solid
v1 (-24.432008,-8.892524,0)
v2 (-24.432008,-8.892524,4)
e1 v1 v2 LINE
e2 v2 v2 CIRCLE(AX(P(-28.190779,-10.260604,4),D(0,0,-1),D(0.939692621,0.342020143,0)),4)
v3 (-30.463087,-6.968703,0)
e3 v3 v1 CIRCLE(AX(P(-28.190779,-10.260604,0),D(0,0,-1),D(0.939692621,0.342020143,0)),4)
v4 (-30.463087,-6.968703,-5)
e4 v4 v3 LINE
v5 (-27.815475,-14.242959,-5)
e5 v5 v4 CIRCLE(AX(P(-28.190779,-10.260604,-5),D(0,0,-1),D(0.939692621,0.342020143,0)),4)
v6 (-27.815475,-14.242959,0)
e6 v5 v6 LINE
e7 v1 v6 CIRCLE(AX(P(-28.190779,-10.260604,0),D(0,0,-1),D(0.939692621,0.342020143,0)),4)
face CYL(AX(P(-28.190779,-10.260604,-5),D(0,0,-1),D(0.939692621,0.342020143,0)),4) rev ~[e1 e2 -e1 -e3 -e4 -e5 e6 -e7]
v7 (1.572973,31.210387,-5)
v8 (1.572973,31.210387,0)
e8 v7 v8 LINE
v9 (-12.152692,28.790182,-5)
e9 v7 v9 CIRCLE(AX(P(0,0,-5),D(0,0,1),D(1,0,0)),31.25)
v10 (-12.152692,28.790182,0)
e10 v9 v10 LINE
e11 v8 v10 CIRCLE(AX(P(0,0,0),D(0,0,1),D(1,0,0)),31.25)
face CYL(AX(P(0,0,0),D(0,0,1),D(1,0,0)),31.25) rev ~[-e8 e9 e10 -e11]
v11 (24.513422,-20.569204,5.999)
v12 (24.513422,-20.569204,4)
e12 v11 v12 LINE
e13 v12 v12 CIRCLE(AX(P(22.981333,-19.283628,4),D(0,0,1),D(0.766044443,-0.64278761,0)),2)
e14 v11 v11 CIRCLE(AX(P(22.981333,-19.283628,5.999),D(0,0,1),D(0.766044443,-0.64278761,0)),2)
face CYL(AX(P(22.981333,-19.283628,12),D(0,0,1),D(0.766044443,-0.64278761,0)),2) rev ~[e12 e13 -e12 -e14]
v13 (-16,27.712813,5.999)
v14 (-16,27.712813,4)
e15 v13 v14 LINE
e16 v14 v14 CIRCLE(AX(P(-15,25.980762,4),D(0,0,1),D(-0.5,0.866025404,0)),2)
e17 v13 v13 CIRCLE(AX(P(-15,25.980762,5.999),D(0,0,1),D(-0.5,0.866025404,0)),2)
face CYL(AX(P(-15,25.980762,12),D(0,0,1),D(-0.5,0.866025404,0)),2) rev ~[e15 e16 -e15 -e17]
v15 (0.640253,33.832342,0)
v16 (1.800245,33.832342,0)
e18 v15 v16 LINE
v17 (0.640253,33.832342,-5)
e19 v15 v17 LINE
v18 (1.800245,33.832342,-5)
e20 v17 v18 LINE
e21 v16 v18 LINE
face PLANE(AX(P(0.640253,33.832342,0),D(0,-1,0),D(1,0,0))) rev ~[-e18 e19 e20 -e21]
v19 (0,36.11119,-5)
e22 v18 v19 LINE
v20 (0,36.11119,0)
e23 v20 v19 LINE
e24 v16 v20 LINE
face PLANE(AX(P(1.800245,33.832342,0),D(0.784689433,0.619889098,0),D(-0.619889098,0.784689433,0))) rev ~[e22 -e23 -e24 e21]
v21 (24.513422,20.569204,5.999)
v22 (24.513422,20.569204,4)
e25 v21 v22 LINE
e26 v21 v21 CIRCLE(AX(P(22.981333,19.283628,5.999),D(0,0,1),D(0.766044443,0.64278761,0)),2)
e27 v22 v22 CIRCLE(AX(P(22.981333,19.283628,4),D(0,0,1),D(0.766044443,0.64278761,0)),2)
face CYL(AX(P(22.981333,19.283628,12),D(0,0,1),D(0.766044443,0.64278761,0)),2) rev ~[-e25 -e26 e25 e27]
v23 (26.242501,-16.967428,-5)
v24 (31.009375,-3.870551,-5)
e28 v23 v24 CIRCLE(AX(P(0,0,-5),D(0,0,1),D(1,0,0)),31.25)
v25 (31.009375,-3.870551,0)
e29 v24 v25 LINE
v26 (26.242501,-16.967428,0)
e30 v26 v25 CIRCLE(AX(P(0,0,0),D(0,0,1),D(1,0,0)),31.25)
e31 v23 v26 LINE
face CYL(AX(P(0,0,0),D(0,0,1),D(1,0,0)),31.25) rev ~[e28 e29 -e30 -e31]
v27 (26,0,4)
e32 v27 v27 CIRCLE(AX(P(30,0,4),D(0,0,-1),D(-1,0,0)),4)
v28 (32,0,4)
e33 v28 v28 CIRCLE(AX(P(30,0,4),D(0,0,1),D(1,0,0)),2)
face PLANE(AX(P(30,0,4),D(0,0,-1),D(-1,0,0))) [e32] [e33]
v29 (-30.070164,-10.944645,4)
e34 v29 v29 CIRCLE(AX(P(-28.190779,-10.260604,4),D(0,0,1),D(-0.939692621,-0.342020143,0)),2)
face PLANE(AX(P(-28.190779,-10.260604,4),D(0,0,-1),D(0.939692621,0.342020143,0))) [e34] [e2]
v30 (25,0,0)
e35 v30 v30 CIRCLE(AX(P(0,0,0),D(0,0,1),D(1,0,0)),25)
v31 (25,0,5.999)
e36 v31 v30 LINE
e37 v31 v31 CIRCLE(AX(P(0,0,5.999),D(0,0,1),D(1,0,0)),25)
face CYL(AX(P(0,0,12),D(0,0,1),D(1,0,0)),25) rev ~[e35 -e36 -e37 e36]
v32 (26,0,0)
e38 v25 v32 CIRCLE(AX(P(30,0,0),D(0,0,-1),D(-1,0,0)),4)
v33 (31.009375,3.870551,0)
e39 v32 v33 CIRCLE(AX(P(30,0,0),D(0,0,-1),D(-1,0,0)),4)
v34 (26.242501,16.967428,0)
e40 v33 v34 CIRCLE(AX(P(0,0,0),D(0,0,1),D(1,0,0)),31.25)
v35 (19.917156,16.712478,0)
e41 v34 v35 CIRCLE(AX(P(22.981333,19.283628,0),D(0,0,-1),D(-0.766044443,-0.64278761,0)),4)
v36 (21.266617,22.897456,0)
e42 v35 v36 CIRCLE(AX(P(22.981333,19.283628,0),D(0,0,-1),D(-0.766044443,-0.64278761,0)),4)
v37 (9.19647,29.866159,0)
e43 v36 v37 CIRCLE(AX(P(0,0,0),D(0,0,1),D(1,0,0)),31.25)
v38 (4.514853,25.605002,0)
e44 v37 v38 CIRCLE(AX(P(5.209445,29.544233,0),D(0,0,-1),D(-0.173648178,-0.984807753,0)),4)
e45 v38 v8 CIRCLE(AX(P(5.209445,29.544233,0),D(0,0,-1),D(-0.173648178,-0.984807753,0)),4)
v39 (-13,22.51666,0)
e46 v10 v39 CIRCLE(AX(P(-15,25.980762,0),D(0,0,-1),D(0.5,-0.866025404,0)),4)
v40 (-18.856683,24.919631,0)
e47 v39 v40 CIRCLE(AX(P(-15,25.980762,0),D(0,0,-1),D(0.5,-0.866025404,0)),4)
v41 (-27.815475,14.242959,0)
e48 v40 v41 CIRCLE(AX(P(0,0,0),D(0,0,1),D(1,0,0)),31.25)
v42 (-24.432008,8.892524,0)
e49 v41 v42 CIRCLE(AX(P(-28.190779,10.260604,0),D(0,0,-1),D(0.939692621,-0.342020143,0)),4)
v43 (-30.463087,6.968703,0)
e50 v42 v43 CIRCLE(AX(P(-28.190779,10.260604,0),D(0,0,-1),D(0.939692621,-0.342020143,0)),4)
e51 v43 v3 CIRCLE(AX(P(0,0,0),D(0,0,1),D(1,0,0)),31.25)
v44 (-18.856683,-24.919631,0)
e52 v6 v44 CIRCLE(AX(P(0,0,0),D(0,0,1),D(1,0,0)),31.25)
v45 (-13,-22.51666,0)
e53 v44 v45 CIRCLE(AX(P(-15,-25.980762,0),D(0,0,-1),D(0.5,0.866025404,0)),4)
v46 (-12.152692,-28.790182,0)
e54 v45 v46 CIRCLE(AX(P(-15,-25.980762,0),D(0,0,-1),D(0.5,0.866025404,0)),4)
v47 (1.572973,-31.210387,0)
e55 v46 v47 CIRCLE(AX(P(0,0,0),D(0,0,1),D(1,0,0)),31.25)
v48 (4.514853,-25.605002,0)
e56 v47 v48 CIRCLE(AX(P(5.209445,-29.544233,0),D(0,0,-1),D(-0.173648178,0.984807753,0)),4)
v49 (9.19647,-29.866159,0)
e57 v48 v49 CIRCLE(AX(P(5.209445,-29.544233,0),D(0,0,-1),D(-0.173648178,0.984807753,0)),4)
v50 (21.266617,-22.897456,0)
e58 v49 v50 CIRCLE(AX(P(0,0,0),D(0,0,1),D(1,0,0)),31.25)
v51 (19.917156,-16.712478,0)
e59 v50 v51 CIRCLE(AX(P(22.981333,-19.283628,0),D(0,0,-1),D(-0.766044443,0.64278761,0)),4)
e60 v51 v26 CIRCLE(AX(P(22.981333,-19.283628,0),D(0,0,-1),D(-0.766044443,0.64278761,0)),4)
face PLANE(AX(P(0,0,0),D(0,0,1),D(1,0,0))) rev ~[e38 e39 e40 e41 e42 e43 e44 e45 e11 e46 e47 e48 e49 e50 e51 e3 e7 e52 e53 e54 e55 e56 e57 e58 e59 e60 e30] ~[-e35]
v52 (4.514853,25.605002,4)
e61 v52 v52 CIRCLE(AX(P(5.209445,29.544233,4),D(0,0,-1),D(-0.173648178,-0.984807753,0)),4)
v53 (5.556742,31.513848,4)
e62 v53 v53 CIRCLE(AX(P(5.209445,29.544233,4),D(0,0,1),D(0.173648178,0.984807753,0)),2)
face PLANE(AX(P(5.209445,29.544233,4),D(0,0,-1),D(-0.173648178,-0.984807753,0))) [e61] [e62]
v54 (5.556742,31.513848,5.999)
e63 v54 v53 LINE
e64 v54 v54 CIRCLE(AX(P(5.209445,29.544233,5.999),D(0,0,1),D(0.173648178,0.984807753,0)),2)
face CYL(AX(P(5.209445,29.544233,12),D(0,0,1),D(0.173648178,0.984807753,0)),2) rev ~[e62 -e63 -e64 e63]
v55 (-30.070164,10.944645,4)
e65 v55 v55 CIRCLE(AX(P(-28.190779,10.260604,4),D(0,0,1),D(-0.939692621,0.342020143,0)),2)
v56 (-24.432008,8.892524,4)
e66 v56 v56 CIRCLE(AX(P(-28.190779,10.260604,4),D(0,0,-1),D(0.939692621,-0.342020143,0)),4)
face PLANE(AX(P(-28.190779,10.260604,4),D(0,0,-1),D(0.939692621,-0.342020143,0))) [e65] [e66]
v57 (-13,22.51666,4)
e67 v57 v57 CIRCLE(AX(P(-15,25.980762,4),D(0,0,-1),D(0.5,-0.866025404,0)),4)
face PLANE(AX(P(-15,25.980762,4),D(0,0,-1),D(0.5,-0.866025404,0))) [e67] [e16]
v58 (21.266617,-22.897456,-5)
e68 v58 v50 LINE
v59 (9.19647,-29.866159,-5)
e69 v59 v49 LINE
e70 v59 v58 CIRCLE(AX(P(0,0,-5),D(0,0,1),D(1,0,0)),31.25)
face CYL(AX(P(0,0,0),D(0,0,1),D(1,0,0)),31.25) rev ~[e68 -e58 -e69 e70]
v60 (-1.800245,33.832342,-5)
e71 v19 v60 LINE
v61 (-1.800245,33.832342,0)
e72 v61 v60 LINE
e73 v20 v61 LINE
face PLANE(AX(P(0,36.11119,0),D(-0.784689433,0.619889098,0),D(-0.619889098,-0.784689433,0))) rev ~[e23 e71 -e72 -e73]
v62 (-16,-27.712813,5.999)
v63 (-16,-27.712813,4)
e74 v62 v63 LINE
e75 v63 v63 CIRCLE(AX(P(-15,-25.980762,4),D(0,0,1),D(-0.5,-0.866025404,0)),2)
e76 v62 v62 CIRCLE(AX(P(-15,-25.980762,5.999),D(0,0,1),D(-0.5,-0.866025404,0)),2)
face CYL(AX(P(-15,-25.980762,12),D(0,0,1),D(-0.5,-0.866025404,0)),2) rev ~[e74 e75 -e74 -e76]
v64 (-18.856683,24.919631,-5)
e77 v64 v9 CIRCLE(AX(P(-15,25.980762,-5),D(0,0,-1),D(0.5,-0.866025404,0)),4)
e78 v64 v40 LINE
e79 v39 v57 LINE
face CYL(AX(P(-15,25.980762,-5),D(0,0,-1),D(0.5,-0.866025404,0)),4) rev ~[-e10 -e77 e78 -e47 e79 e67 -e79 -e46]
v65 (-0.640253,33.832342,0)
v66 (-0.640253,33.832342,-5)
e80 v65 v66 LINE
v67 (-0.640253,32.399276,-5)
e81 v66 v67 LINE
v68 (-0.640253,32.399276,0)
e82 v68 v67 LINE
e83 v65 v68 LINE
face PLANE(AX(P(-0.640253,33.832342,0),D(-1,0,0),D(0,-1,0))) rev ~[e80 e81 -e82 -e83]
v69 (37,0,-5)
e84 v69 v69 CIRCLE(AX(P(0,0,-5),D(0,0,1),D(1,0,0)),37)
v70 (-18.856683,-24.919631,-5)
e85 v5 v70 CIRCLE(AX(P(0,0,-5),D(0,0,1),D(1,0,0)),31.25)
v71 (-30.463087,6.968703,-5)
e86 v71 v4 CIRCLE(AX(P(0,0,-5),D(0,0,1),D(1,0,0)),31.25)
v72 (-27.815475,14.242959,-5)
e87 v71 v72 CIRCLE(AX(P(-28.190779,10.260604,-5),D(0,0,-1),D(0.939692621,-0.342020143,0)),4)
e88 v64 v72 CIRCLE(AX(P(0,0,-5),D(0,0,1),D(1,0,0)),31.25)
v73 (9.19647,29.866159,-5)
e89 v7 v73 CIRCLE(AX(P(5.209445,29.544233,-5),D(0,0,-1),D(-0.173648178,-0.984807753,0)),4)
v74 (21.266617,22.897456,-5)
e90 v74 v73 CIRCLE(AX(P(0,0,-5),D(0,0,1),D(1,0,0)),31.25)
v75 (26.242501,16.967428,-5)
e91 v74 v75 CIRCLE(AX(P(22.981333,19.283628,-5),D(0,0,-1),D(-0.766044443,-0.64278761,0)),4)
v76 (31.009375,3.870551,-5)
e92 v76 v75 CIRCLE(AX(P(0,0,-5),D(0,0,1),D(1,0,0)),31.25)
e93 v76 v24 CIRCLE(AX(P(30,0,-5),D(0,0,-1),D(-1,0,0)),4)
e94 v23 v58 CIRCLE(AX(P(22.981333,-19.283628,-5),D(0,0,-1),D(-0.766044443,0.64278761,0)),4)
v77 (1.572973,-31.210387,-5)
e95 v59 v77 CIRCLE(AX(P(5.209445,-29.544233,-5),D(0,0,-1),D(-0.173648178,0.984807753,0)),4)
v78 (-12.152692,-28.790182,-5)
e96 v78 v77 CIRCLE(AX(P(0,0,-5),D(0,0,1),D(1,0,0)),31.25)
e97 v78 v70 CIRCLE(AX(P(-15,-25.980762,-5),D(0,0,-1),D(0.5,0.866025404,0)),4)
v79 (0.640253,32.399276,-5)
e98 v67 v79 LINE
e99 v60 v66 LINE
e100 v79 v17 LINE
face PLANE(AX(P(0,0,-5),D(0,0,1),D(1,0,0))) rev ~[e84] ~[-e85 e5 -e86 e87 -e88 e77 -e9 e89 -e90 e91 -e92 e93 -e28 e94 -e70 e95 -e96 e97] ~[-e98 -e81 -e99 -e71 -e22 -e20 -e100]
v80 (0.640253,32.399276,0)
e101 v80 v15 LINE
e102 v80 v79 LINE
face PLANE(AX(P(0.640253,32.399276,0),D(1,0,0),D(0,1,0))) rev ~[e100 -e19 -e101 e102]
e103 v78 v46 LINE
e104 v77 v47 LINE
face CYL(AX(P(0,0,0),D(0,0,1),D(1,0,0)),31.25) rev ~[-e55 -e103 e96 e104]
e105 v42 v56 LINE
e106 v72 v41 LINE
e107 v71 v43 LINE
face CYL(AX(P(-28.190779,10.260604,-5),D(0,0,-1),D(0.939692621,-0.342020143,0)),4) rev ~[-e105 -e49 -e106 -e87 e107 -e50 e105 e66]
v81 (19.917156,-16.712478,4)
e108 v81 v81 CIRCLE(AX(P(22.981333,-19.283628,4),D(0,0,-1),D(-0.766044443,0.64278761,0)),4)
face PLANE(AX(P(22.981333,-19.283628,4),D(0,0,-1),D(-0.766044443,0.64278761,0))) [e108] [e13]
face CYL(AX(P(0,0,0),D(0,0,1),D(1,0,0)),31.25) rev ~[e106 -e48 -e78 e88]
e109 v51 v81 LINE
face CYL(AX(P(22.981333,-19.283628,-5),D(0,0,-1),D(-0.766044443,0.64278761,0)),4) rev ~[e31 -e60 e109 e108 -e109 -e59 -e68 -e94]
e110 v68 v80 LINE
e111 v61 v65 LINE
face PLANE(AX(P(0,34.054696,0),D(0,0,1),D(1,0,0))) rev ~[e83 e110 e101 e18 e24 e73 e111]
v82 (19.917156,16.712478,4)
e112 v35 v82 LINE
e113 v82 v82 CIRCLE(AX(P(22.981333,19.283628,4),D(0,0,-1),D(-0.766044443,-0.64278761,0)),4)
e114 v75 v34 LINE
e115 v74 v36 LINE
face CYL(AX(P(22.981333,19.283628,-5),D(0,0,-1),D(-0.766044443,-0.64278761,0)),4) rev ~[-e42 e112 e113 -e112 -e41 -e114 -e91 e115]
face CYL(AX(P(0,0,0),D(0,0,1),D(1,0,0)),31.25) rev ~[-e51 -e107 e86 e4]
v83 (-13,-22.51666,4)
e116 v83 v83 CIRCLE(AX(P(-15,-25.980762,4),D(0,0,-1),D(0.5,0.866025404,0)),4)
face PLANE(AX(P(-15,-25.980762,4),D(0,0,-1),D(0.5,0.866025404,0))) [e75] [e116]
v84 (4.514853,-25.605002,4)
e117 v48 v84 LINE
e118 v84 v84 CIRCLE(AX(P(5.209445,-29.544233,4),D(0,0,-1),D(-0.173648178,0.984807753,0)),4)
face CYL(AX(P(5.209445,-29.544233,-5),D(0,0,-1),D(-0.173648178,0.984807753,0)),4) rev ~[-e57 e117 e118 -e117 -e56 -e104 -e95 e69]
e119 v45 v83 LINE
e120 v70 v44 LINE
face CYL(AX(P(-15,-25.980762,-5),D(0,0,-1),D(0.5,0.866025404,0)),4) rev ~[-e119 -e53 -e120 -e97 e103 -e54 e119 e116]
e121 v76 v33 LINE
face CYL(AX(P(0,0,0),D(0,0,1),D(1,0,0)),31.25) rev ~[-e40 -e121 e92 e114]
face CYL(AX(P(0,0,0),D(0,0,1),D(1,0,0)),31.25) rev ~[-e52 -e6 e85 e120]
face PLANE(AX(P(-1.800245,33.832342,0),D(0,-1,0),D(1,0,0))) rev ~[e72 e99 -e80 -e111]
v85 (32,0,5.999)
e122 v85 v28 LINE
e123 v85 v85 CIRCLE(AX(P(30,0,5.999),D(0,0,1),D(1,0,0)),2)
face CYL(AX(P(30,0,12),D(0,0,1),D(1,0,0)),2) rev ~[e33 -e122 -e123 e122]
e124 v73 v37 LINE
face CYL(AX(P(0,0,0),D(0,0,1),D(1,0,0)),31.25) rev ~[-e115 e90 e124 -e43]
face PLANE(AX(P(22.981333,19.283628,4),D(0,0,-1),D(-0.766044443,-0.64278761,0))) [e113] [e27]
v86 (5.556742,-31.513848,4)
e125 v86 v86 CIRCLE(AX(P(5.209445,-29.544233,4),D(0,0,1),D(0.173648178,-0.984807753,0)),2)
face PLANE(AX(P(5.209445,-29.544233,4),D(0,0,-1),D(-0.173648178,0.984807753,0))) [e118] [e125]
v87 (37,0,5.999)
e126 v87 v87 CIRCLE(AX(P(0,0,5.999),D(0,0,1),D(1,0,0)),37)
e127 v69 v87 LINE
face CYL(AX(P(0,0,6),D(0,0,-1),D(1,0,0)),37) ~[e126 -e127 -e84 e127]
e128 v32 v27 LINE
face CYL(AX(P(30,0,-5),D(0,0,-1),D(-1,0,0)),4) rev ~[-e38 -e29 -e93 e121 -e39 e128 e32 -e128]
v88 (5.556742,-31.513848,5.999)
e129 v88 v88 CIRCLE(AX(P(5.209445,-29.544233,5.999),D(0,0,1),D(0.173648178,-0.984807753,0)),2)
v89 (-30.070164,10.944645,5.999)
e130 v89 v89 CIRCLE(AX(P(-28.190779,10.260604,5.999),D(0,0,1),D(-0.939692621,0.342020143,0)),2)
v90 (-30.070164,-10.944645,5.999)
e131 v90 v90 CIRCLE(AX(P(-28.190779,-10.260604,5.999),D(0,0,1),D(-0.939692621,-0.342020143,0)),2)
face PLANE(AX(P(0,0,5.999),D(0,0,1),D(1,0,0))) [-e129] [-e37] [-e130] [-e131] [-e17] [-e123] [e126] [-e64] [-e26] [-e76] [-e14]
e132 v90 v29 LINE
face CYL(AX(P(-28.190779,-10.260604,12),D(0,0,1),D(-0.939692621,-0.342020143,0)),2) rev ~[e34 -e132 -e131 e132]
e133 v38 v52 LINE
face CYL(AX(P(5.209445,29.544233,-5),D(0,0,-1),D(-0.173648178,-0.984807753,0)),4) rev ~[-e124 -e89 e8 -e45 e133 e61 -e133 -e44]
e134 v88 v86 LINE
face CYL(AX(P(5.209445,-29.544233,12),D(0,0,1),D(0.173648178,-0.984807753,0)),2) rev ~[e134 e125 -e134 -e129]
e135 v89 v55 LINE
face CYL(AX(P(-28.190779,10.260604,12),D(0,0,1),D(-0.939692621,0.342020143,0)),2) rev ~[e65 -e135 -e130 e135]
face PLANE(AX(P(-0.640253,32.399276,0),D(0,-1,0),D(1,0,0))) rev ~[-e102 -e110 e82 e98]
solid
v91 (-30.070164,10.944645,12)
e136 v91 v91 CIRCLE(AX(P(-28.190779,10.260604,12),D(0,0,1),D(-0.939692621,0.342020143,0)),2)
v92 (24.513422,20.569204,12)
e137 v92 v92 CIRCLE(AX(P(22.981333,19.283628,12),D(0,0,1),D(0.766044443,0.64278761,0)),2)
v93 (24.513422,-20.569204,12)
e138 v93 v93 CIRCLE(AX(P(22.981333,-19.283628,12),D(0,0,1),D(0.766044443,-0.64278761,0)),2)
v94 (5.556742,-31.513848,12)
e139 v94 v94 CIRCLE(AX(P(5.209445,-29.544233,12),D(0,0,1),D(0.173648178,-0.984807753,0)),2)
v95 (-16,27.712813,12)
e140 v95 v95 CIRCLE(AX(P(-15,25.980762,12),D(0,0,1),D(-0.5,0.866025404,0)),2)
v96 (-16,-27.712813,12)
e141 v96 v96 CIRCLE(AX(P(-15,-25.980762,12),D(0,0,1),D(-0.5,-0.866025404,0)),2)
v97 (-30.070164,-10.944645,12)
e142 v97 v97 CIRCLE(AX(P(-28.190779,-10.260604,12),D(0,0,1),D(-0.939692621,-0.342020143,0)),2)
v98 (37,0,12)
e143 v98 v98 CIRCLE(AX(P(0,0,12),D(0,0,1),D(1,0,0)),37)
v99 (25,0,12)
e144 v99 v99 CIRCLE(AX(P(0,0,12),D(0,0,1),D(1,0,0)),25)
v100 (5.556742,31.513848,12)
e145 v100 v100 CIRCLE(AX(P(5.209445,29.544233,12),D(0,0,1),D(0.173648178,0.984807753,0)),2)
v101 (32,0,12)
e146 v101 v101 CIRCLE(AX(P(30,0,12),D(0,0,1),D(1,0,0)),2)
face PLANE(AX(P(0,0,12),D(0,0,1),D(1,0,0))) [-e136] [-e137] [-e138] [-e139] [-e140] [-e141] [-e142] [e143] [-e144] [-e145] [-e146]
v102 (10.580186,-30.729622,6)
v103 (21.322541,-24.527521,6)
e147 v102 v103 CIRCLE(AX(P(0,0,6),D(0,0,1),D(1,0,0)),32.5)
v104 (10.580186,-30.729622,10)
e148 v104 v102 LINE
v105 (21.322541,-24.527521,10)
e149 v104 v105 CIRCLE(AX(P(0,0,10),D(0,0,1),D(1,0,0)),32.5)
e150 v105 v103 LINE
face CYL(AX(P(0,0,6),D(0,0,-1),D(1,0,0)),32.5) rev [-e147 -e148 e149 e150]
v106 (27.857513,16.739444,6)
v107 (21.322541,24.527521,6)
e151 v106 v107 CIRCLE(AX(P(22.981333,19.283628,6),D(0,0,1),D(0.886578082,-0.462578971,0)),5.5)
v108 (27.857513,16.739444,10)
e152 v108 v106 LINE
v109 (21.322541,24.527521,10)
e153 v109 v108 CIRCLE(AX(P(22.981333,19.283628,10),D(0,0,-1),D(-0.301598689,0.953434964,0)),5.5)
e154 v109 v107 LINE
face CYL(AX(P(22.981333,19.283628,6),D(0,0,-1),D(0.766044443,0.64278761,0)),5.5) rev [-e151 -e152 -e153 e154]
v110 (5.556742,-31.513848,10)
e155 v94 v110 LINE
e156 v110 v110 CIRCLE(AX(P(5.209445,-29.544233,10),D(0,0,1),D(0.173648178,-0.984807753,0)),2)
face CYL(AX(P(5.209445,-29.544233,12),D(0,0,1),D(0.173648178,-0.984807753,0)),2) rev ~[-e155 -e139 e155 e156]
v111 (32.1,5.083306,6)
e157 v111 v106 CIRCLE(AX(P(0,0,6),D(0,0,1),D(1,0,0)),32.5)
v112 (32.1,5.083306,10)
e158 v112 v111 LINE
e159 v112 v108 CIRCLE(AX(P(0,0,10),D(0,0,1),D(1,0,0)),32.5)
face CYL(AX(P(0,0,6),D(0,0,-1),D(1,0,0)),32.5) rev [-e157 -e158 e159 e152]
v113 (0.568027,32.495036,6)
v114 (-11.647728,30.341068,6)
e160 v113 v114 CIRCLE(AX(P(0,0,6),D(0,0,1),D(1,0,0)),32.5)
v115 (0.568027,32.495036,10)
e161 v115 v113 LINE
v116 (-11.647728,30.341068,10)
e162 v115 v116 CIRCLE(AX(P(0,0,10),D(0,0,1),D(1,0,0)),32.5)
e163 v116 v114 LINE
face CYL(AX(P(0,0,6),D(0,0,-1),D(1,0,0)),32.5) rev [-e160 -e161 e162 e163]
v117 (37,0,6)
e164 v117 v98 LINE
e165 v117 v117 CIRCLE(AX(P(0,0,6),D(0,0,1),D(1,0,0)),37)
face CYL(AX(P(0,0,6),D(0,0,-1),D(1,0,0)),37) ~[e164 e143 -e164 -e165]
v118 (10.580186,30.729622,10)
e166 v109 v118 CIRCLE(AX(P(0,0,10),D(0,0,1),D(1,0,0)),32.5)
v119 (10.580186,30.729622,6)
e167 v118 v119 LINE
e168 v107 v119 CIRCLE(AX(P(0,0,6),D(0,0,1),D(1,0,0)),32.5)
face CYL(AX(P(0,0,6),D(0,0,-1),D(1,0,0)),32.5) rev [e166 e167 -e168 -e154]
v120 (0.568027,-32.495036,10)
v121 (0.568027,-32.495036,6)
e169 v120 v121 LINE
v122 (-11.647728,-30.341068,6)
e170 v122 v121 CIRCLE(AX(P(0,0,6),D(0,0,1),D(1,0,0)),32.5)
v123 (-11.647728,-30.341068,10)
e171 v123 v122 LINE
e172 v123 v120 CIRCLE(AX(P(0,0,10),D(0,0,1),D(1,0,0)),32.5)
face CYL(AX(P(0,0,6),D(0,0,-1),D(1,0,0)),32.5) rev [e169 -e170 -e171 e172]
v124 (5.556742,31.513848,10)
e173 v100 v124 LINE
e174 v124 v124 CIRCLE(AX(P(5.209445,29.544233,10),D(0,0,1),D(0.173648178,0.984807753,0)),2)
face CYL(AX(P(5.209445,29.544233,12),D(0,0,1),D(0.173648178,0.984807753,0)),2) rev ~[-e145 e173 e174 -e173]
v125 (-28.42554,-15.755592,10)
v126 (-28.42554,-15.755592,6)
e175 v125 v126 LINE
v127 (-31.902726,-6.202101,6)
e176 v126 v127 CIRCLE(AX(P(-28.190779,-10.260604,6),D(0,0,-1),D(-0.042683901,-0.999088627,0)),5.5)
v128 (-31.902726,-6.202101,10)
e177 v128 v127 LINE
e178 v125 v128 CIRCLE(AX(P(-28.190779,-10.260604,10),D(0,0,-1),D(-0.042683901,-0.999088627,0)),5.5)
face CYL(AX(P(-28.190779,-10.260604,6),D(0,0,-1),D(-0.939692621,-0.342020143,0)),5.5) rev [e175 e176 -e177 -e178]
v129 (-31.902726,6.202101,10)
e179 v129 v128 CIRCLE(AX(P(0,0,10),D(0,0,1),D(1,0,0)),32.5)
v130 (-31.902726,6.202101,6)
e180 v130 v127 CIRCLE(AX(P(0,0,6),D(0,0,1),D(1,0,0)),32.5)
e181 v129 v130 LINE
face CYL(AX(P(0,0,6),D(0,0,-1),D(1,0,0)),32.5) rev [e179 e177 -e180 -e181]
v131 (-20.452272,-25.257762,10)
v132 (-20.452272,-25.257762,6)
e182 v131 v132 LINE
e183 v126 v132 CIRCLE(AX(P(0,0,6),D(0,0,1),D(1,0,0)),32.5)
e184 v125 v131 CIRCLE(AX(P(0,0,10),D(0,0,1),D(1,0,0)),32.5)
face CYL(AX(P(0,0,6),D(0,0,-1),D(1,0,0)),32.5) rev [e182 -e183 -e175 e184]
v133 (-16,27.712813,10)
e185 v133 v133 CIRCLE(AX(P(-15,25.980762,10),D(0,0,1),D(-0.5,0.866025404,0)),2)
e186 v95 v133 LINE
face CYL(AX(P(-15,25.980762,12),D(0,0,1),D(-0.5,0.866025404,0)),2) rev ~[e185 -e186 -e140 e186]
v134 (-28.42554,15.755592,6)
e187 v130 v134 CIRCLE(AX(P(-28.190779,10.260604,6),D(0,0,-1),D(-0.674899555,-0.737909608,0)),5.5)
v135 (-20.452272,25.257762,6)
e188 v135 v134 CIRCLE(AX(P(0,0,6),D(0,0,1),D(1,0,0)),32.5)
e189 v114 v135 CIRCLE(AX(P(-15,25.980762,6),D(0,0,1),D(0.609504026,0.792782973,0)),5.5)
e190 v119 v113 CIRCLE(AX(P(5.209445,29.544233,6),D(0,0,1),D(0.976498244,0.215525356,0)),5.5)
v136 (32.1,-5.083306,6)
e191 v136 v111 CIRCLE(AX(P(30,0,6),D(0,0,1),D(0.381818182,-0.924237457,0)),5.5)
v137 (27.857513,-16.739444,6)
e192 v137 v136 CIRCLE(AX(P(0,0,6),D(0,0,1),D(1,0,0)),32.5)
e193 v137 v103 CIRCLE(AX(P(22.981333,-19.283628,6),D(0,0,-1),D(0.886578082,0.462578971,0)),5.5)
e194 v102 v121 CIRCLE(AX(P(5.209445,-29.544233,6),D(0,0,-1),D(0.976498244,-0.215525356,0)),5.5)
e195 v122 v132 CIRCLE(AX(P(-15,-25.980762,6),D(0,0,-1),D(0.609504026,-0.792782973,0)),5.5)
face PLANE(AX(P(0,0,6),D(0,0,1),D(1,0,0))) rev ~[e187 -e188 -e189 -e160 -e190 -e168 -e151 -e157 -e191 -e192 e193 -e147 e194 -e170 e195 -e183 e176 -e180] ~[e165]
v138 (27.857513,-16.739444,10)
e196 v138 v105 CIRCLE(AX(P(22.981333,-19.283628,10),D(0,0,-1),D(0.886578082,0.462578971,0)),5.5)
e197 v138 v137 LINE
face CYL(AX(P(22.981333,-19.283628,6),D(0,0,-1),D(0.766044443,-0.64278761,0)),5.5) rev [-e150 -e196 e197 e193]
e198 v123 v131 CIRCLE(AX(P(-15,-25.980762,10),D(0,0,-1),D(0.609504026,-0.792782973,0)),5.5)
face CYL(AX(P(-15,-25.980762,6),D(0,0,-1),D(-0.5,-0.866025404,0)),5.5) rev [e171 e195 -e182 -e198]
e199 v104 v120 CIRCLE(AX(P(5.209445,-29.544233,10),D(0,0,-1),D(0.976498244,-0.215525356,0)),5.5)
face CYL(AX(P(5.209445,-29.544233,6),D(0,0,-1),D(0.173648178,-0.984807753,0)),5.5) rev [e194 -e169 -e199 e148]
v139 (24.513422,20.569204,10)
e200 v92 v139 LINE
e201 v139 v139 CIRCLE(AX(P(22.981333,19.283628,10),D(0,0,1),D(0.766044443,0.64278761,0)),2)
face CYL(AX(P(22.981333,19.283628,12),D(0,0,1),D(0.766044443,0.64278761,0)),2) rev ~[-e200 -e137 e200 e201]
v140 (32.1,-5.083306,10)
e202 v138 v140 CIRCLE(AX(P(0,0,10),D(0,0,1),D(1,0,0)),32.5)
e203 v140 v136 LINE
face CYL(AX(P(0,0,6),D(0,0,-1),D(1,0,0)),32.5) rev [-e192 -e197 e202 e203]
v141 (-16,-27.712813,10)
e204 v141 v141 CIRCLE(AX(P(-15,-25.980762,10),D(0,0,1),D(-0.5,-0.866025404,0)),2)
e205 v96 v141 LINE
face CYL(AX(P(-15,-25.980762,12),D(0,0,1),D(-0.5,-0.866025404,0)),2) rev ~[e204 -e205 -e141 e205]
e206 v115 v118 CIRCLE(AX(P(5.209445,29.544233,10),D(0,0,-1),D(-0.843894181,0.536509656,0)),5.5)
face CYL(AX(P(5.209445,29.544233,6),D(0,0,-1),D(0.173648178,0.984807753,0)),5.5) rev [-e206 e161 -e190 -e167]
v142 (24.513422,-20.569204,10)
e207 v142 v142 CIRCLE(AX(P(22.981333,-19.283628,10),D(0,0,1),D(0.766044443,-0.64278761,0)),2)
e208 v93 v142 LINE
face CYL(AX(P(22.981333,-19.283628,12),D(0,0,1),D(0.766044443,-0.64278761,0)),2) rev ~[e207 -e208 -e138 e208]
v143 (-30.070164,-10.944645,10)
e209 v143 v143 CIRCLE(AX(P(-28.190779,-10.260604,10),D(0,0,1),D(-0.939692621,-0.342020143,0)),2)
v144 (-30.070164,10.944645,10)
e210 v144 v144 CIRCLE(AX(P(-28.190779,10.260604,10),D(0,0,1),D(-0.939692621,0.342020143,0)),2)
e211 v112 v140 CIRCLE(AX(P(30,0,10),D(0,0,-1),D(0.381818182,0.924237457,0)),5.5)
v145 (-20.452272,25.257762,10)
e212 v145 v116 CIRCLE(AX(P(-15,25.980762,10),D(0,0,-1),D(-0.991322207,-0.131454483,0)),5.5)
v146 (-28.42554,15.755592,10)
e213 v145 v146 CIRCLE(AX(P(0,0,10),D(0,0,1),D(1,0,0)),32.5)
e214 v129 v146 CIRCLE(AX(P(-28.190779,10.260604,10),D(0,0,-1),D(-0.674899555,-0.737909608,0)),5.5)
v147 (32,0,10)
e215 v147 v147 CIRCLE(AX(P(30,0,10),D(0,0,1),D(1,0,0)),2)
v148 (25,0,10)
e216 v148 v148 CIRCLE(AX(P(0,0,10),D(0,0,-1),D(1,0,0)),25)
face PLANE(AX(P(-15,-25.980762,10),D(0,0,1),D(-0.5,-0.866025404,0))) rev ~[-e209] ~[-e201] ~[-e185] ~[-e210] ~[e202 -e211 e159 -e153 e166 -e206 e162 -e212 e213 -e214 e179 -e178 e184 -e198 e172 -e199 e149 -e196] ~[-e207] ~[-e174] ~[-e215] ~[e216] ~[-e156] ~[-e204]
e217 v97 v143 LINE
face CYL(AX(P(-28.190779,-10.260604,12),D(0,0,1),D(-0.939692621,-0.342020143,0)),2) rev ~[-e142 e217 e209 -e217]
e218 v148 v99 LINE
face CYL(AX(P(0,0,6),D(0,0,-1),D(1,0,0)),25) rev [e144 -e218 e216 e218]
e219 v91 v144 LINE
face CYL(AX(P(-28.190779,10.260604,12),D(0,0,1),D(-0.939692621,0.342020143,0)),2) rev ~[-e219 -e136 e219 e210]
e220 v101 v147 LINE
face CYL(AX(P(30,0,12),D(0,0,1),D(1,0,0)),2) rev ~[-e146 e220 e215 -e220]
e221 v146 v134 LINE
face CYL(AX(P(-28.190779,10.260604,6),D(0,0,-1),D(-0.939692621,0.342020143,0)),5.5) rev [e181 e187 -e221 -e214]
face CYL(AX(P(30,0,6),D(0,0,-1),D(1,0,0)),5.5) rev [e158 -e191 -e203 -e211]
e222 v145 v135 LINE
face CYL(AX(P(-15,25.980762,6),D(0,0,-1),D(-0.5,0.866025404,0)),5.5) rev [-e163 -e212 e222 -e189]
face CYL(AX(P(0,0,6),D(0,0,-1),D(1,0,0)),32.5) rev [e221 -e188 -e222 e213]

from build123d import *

# Parameters (mm, degrees)
SKETCH2_R           = 37
BOSS_EXTRUDE1_DEPTH = 6
SKETCH5_R           = 37
SKETCH5_R_2         = 31.25
BOSS_EXTRUDE2_DEPTH = 5
SKETCH6_R           = 37
SKETCH6_R_2         = 25
BOSS_EXTRUDE3_DEPTH = 6
CUT_EXTRUDE2_DEPTH  = 6
SKETCH9_R           = 2
CUT_EXTRUDE4_DEPTH  = 18
SKETCH12_R          = 4
CUT_EXTRUDE5_DEPTH  = 9
SKETCH13_R          = 25
CUT_EXTRUDE6_DEPTH  = 18
CUT_EXTRUDE7_START  = 2
SKETCH15_R          = 5.5
CUT_EXTRUDE7_DEPTH  = 4
CIRPATTERN7_COUNT   = 9
SKETCH16_R          = 32.5
CUT_EXTRUDE8_DEPTH  = 4
SKETCH17_R          = 37
CUT_EXTRUDE9_DEPTH  = 0.001


with BuildPart() as part:
    # Sketch2 → Boss-Extrude1 (new body)
    with BuildSketch(Plane.XY):
        Circle(SKETCH2_R)
    extrude(amount=BOSS_EXTRUDE1_DEPTH)

    # Sketch5 → Boss-Extrude2 (add)
    with BuildSketch(Plane.XY):
        Circle(SKETCH5_R)
        Circle(SKETCH5_R_2, mode=Mode.SUBTRACT)
    extrude(amount=-BOSS_EXTRUDE2_DEPTH)

    # Sketch6 → Boss-Extrude3 (add)
    with BuildSketch(Plane.XY.offset(6)):
        Circle(SKETCH6_R)
        Circle(SKETCH6_R_2, mode=Mode.SUBTRACT)
    extrude(amount=BOSS_EXTRUDE3_DEPTH)

    # Sketch7 → Cut-Extrude2 (cut, through all)
    with BuildSketch(Plane.XY):
        Polygon((0, 32.399276449), (0.640252712, 32.399276449), (0.640252712, 33.832341534), (1.800245239, 33.832341534), (0, 36.111190156), (-1.800245239, 33.832341534), (-0.640252712, 33.832341534), (-0.640252712, 32.399276449), align=None)
    extrude(amount=-CUT_EXTRUDE2_DEPTH, mode=Mode.SUBTRACT)

    # Sketch9 → Cut-Extrude4 (cut, through all)
    with BuildSketch(Plane.XY.offset(12)):
        with Locations((30, 0)):
            Circle(SKETCH9_R)
    cut_extrude4 = extrude(amount=-CUT_EXTRUDE4_DEPTH, mode=Mode.SUBTRACT)

    # Sketch12 → Cut-Extrude5 (cut)
    with BuildSketch(Plane(origin=(0, 0, -5), x_dir=(-1, 0, 0), z_dir=(0, 0, -1))):
        with Locations((-30, 0)):
            Circle(SKETCH12_R)
    cut_extrude5 = extrude(amount=-CUT_EXTRUDE5_DEPTH, mode=Mode.SUBTRACT)

    # Sketch13 → Cut-Extrude6 (cut, through all)
    with BuildSketch(Plane.XY.offset(12)):
        Circle(SKETCH13_R)
    extrude(amount=-CUT_EXTRUDE6_DEPTH, mode=Mode.SUBTRACT)

    # Sketch15 → Cut-Extrude7 (cut)
    with BuildSketch(Plane.XY.offset(4).offset(CUT_EXTRUDE7_START)):
        with Locations((30, 0)):
            Circle(SKETCH15_R)
    cut_extrude7 = extrude(amount=CUT_EXTRUDE7_DEPTH, mode=Mode.SUBTRACT)

    # CirPattern7: Cut-Extrude4, Cut-Extrude5, Cut-Extrude7 ×9 about axis
    cirpattern7_axis = Axis((0, 0, 0), (0, 0, 1))
    for i in range(1, CIRPATTERN7_COUNT):
        add(cut_extrude4.rotate(cirpattern7_axis, i * 360 / CIRPATTERN7_COUNT), mode=Mode.SUBTRACT)
        add(cut_extrude5.rotate(cirpattern7_axis, i * 360 / CIRPATTERN7_COUNT), mode=Mode.SUBTRACT)
        add(cut_extrude7.rotate(cirpattern7_axis, i * 360 / CIRPATTERN7_COUNT), mode=Mode.SUBTRACT)

    # Sketch16 → Cut-Extrude8 (cut)
    with BuildSketch(Plane.XY.offset(6)):
        Circle(SKETCH16_R)
    extrude(amount=CUT_EXTRUDE8_DEPTH, mode=Mode.SUBTRACT)

    # Sketch17 → Cut-Extrude9 (cut)
    with BuildSketch(Plane.XY.offset(6)):
        Circle(SKETCH17_R)
    extrude(amount=-CUT_EXTRUDE9_DEPTH, mode=Mode.SUBTRACT)


solid = part.part
